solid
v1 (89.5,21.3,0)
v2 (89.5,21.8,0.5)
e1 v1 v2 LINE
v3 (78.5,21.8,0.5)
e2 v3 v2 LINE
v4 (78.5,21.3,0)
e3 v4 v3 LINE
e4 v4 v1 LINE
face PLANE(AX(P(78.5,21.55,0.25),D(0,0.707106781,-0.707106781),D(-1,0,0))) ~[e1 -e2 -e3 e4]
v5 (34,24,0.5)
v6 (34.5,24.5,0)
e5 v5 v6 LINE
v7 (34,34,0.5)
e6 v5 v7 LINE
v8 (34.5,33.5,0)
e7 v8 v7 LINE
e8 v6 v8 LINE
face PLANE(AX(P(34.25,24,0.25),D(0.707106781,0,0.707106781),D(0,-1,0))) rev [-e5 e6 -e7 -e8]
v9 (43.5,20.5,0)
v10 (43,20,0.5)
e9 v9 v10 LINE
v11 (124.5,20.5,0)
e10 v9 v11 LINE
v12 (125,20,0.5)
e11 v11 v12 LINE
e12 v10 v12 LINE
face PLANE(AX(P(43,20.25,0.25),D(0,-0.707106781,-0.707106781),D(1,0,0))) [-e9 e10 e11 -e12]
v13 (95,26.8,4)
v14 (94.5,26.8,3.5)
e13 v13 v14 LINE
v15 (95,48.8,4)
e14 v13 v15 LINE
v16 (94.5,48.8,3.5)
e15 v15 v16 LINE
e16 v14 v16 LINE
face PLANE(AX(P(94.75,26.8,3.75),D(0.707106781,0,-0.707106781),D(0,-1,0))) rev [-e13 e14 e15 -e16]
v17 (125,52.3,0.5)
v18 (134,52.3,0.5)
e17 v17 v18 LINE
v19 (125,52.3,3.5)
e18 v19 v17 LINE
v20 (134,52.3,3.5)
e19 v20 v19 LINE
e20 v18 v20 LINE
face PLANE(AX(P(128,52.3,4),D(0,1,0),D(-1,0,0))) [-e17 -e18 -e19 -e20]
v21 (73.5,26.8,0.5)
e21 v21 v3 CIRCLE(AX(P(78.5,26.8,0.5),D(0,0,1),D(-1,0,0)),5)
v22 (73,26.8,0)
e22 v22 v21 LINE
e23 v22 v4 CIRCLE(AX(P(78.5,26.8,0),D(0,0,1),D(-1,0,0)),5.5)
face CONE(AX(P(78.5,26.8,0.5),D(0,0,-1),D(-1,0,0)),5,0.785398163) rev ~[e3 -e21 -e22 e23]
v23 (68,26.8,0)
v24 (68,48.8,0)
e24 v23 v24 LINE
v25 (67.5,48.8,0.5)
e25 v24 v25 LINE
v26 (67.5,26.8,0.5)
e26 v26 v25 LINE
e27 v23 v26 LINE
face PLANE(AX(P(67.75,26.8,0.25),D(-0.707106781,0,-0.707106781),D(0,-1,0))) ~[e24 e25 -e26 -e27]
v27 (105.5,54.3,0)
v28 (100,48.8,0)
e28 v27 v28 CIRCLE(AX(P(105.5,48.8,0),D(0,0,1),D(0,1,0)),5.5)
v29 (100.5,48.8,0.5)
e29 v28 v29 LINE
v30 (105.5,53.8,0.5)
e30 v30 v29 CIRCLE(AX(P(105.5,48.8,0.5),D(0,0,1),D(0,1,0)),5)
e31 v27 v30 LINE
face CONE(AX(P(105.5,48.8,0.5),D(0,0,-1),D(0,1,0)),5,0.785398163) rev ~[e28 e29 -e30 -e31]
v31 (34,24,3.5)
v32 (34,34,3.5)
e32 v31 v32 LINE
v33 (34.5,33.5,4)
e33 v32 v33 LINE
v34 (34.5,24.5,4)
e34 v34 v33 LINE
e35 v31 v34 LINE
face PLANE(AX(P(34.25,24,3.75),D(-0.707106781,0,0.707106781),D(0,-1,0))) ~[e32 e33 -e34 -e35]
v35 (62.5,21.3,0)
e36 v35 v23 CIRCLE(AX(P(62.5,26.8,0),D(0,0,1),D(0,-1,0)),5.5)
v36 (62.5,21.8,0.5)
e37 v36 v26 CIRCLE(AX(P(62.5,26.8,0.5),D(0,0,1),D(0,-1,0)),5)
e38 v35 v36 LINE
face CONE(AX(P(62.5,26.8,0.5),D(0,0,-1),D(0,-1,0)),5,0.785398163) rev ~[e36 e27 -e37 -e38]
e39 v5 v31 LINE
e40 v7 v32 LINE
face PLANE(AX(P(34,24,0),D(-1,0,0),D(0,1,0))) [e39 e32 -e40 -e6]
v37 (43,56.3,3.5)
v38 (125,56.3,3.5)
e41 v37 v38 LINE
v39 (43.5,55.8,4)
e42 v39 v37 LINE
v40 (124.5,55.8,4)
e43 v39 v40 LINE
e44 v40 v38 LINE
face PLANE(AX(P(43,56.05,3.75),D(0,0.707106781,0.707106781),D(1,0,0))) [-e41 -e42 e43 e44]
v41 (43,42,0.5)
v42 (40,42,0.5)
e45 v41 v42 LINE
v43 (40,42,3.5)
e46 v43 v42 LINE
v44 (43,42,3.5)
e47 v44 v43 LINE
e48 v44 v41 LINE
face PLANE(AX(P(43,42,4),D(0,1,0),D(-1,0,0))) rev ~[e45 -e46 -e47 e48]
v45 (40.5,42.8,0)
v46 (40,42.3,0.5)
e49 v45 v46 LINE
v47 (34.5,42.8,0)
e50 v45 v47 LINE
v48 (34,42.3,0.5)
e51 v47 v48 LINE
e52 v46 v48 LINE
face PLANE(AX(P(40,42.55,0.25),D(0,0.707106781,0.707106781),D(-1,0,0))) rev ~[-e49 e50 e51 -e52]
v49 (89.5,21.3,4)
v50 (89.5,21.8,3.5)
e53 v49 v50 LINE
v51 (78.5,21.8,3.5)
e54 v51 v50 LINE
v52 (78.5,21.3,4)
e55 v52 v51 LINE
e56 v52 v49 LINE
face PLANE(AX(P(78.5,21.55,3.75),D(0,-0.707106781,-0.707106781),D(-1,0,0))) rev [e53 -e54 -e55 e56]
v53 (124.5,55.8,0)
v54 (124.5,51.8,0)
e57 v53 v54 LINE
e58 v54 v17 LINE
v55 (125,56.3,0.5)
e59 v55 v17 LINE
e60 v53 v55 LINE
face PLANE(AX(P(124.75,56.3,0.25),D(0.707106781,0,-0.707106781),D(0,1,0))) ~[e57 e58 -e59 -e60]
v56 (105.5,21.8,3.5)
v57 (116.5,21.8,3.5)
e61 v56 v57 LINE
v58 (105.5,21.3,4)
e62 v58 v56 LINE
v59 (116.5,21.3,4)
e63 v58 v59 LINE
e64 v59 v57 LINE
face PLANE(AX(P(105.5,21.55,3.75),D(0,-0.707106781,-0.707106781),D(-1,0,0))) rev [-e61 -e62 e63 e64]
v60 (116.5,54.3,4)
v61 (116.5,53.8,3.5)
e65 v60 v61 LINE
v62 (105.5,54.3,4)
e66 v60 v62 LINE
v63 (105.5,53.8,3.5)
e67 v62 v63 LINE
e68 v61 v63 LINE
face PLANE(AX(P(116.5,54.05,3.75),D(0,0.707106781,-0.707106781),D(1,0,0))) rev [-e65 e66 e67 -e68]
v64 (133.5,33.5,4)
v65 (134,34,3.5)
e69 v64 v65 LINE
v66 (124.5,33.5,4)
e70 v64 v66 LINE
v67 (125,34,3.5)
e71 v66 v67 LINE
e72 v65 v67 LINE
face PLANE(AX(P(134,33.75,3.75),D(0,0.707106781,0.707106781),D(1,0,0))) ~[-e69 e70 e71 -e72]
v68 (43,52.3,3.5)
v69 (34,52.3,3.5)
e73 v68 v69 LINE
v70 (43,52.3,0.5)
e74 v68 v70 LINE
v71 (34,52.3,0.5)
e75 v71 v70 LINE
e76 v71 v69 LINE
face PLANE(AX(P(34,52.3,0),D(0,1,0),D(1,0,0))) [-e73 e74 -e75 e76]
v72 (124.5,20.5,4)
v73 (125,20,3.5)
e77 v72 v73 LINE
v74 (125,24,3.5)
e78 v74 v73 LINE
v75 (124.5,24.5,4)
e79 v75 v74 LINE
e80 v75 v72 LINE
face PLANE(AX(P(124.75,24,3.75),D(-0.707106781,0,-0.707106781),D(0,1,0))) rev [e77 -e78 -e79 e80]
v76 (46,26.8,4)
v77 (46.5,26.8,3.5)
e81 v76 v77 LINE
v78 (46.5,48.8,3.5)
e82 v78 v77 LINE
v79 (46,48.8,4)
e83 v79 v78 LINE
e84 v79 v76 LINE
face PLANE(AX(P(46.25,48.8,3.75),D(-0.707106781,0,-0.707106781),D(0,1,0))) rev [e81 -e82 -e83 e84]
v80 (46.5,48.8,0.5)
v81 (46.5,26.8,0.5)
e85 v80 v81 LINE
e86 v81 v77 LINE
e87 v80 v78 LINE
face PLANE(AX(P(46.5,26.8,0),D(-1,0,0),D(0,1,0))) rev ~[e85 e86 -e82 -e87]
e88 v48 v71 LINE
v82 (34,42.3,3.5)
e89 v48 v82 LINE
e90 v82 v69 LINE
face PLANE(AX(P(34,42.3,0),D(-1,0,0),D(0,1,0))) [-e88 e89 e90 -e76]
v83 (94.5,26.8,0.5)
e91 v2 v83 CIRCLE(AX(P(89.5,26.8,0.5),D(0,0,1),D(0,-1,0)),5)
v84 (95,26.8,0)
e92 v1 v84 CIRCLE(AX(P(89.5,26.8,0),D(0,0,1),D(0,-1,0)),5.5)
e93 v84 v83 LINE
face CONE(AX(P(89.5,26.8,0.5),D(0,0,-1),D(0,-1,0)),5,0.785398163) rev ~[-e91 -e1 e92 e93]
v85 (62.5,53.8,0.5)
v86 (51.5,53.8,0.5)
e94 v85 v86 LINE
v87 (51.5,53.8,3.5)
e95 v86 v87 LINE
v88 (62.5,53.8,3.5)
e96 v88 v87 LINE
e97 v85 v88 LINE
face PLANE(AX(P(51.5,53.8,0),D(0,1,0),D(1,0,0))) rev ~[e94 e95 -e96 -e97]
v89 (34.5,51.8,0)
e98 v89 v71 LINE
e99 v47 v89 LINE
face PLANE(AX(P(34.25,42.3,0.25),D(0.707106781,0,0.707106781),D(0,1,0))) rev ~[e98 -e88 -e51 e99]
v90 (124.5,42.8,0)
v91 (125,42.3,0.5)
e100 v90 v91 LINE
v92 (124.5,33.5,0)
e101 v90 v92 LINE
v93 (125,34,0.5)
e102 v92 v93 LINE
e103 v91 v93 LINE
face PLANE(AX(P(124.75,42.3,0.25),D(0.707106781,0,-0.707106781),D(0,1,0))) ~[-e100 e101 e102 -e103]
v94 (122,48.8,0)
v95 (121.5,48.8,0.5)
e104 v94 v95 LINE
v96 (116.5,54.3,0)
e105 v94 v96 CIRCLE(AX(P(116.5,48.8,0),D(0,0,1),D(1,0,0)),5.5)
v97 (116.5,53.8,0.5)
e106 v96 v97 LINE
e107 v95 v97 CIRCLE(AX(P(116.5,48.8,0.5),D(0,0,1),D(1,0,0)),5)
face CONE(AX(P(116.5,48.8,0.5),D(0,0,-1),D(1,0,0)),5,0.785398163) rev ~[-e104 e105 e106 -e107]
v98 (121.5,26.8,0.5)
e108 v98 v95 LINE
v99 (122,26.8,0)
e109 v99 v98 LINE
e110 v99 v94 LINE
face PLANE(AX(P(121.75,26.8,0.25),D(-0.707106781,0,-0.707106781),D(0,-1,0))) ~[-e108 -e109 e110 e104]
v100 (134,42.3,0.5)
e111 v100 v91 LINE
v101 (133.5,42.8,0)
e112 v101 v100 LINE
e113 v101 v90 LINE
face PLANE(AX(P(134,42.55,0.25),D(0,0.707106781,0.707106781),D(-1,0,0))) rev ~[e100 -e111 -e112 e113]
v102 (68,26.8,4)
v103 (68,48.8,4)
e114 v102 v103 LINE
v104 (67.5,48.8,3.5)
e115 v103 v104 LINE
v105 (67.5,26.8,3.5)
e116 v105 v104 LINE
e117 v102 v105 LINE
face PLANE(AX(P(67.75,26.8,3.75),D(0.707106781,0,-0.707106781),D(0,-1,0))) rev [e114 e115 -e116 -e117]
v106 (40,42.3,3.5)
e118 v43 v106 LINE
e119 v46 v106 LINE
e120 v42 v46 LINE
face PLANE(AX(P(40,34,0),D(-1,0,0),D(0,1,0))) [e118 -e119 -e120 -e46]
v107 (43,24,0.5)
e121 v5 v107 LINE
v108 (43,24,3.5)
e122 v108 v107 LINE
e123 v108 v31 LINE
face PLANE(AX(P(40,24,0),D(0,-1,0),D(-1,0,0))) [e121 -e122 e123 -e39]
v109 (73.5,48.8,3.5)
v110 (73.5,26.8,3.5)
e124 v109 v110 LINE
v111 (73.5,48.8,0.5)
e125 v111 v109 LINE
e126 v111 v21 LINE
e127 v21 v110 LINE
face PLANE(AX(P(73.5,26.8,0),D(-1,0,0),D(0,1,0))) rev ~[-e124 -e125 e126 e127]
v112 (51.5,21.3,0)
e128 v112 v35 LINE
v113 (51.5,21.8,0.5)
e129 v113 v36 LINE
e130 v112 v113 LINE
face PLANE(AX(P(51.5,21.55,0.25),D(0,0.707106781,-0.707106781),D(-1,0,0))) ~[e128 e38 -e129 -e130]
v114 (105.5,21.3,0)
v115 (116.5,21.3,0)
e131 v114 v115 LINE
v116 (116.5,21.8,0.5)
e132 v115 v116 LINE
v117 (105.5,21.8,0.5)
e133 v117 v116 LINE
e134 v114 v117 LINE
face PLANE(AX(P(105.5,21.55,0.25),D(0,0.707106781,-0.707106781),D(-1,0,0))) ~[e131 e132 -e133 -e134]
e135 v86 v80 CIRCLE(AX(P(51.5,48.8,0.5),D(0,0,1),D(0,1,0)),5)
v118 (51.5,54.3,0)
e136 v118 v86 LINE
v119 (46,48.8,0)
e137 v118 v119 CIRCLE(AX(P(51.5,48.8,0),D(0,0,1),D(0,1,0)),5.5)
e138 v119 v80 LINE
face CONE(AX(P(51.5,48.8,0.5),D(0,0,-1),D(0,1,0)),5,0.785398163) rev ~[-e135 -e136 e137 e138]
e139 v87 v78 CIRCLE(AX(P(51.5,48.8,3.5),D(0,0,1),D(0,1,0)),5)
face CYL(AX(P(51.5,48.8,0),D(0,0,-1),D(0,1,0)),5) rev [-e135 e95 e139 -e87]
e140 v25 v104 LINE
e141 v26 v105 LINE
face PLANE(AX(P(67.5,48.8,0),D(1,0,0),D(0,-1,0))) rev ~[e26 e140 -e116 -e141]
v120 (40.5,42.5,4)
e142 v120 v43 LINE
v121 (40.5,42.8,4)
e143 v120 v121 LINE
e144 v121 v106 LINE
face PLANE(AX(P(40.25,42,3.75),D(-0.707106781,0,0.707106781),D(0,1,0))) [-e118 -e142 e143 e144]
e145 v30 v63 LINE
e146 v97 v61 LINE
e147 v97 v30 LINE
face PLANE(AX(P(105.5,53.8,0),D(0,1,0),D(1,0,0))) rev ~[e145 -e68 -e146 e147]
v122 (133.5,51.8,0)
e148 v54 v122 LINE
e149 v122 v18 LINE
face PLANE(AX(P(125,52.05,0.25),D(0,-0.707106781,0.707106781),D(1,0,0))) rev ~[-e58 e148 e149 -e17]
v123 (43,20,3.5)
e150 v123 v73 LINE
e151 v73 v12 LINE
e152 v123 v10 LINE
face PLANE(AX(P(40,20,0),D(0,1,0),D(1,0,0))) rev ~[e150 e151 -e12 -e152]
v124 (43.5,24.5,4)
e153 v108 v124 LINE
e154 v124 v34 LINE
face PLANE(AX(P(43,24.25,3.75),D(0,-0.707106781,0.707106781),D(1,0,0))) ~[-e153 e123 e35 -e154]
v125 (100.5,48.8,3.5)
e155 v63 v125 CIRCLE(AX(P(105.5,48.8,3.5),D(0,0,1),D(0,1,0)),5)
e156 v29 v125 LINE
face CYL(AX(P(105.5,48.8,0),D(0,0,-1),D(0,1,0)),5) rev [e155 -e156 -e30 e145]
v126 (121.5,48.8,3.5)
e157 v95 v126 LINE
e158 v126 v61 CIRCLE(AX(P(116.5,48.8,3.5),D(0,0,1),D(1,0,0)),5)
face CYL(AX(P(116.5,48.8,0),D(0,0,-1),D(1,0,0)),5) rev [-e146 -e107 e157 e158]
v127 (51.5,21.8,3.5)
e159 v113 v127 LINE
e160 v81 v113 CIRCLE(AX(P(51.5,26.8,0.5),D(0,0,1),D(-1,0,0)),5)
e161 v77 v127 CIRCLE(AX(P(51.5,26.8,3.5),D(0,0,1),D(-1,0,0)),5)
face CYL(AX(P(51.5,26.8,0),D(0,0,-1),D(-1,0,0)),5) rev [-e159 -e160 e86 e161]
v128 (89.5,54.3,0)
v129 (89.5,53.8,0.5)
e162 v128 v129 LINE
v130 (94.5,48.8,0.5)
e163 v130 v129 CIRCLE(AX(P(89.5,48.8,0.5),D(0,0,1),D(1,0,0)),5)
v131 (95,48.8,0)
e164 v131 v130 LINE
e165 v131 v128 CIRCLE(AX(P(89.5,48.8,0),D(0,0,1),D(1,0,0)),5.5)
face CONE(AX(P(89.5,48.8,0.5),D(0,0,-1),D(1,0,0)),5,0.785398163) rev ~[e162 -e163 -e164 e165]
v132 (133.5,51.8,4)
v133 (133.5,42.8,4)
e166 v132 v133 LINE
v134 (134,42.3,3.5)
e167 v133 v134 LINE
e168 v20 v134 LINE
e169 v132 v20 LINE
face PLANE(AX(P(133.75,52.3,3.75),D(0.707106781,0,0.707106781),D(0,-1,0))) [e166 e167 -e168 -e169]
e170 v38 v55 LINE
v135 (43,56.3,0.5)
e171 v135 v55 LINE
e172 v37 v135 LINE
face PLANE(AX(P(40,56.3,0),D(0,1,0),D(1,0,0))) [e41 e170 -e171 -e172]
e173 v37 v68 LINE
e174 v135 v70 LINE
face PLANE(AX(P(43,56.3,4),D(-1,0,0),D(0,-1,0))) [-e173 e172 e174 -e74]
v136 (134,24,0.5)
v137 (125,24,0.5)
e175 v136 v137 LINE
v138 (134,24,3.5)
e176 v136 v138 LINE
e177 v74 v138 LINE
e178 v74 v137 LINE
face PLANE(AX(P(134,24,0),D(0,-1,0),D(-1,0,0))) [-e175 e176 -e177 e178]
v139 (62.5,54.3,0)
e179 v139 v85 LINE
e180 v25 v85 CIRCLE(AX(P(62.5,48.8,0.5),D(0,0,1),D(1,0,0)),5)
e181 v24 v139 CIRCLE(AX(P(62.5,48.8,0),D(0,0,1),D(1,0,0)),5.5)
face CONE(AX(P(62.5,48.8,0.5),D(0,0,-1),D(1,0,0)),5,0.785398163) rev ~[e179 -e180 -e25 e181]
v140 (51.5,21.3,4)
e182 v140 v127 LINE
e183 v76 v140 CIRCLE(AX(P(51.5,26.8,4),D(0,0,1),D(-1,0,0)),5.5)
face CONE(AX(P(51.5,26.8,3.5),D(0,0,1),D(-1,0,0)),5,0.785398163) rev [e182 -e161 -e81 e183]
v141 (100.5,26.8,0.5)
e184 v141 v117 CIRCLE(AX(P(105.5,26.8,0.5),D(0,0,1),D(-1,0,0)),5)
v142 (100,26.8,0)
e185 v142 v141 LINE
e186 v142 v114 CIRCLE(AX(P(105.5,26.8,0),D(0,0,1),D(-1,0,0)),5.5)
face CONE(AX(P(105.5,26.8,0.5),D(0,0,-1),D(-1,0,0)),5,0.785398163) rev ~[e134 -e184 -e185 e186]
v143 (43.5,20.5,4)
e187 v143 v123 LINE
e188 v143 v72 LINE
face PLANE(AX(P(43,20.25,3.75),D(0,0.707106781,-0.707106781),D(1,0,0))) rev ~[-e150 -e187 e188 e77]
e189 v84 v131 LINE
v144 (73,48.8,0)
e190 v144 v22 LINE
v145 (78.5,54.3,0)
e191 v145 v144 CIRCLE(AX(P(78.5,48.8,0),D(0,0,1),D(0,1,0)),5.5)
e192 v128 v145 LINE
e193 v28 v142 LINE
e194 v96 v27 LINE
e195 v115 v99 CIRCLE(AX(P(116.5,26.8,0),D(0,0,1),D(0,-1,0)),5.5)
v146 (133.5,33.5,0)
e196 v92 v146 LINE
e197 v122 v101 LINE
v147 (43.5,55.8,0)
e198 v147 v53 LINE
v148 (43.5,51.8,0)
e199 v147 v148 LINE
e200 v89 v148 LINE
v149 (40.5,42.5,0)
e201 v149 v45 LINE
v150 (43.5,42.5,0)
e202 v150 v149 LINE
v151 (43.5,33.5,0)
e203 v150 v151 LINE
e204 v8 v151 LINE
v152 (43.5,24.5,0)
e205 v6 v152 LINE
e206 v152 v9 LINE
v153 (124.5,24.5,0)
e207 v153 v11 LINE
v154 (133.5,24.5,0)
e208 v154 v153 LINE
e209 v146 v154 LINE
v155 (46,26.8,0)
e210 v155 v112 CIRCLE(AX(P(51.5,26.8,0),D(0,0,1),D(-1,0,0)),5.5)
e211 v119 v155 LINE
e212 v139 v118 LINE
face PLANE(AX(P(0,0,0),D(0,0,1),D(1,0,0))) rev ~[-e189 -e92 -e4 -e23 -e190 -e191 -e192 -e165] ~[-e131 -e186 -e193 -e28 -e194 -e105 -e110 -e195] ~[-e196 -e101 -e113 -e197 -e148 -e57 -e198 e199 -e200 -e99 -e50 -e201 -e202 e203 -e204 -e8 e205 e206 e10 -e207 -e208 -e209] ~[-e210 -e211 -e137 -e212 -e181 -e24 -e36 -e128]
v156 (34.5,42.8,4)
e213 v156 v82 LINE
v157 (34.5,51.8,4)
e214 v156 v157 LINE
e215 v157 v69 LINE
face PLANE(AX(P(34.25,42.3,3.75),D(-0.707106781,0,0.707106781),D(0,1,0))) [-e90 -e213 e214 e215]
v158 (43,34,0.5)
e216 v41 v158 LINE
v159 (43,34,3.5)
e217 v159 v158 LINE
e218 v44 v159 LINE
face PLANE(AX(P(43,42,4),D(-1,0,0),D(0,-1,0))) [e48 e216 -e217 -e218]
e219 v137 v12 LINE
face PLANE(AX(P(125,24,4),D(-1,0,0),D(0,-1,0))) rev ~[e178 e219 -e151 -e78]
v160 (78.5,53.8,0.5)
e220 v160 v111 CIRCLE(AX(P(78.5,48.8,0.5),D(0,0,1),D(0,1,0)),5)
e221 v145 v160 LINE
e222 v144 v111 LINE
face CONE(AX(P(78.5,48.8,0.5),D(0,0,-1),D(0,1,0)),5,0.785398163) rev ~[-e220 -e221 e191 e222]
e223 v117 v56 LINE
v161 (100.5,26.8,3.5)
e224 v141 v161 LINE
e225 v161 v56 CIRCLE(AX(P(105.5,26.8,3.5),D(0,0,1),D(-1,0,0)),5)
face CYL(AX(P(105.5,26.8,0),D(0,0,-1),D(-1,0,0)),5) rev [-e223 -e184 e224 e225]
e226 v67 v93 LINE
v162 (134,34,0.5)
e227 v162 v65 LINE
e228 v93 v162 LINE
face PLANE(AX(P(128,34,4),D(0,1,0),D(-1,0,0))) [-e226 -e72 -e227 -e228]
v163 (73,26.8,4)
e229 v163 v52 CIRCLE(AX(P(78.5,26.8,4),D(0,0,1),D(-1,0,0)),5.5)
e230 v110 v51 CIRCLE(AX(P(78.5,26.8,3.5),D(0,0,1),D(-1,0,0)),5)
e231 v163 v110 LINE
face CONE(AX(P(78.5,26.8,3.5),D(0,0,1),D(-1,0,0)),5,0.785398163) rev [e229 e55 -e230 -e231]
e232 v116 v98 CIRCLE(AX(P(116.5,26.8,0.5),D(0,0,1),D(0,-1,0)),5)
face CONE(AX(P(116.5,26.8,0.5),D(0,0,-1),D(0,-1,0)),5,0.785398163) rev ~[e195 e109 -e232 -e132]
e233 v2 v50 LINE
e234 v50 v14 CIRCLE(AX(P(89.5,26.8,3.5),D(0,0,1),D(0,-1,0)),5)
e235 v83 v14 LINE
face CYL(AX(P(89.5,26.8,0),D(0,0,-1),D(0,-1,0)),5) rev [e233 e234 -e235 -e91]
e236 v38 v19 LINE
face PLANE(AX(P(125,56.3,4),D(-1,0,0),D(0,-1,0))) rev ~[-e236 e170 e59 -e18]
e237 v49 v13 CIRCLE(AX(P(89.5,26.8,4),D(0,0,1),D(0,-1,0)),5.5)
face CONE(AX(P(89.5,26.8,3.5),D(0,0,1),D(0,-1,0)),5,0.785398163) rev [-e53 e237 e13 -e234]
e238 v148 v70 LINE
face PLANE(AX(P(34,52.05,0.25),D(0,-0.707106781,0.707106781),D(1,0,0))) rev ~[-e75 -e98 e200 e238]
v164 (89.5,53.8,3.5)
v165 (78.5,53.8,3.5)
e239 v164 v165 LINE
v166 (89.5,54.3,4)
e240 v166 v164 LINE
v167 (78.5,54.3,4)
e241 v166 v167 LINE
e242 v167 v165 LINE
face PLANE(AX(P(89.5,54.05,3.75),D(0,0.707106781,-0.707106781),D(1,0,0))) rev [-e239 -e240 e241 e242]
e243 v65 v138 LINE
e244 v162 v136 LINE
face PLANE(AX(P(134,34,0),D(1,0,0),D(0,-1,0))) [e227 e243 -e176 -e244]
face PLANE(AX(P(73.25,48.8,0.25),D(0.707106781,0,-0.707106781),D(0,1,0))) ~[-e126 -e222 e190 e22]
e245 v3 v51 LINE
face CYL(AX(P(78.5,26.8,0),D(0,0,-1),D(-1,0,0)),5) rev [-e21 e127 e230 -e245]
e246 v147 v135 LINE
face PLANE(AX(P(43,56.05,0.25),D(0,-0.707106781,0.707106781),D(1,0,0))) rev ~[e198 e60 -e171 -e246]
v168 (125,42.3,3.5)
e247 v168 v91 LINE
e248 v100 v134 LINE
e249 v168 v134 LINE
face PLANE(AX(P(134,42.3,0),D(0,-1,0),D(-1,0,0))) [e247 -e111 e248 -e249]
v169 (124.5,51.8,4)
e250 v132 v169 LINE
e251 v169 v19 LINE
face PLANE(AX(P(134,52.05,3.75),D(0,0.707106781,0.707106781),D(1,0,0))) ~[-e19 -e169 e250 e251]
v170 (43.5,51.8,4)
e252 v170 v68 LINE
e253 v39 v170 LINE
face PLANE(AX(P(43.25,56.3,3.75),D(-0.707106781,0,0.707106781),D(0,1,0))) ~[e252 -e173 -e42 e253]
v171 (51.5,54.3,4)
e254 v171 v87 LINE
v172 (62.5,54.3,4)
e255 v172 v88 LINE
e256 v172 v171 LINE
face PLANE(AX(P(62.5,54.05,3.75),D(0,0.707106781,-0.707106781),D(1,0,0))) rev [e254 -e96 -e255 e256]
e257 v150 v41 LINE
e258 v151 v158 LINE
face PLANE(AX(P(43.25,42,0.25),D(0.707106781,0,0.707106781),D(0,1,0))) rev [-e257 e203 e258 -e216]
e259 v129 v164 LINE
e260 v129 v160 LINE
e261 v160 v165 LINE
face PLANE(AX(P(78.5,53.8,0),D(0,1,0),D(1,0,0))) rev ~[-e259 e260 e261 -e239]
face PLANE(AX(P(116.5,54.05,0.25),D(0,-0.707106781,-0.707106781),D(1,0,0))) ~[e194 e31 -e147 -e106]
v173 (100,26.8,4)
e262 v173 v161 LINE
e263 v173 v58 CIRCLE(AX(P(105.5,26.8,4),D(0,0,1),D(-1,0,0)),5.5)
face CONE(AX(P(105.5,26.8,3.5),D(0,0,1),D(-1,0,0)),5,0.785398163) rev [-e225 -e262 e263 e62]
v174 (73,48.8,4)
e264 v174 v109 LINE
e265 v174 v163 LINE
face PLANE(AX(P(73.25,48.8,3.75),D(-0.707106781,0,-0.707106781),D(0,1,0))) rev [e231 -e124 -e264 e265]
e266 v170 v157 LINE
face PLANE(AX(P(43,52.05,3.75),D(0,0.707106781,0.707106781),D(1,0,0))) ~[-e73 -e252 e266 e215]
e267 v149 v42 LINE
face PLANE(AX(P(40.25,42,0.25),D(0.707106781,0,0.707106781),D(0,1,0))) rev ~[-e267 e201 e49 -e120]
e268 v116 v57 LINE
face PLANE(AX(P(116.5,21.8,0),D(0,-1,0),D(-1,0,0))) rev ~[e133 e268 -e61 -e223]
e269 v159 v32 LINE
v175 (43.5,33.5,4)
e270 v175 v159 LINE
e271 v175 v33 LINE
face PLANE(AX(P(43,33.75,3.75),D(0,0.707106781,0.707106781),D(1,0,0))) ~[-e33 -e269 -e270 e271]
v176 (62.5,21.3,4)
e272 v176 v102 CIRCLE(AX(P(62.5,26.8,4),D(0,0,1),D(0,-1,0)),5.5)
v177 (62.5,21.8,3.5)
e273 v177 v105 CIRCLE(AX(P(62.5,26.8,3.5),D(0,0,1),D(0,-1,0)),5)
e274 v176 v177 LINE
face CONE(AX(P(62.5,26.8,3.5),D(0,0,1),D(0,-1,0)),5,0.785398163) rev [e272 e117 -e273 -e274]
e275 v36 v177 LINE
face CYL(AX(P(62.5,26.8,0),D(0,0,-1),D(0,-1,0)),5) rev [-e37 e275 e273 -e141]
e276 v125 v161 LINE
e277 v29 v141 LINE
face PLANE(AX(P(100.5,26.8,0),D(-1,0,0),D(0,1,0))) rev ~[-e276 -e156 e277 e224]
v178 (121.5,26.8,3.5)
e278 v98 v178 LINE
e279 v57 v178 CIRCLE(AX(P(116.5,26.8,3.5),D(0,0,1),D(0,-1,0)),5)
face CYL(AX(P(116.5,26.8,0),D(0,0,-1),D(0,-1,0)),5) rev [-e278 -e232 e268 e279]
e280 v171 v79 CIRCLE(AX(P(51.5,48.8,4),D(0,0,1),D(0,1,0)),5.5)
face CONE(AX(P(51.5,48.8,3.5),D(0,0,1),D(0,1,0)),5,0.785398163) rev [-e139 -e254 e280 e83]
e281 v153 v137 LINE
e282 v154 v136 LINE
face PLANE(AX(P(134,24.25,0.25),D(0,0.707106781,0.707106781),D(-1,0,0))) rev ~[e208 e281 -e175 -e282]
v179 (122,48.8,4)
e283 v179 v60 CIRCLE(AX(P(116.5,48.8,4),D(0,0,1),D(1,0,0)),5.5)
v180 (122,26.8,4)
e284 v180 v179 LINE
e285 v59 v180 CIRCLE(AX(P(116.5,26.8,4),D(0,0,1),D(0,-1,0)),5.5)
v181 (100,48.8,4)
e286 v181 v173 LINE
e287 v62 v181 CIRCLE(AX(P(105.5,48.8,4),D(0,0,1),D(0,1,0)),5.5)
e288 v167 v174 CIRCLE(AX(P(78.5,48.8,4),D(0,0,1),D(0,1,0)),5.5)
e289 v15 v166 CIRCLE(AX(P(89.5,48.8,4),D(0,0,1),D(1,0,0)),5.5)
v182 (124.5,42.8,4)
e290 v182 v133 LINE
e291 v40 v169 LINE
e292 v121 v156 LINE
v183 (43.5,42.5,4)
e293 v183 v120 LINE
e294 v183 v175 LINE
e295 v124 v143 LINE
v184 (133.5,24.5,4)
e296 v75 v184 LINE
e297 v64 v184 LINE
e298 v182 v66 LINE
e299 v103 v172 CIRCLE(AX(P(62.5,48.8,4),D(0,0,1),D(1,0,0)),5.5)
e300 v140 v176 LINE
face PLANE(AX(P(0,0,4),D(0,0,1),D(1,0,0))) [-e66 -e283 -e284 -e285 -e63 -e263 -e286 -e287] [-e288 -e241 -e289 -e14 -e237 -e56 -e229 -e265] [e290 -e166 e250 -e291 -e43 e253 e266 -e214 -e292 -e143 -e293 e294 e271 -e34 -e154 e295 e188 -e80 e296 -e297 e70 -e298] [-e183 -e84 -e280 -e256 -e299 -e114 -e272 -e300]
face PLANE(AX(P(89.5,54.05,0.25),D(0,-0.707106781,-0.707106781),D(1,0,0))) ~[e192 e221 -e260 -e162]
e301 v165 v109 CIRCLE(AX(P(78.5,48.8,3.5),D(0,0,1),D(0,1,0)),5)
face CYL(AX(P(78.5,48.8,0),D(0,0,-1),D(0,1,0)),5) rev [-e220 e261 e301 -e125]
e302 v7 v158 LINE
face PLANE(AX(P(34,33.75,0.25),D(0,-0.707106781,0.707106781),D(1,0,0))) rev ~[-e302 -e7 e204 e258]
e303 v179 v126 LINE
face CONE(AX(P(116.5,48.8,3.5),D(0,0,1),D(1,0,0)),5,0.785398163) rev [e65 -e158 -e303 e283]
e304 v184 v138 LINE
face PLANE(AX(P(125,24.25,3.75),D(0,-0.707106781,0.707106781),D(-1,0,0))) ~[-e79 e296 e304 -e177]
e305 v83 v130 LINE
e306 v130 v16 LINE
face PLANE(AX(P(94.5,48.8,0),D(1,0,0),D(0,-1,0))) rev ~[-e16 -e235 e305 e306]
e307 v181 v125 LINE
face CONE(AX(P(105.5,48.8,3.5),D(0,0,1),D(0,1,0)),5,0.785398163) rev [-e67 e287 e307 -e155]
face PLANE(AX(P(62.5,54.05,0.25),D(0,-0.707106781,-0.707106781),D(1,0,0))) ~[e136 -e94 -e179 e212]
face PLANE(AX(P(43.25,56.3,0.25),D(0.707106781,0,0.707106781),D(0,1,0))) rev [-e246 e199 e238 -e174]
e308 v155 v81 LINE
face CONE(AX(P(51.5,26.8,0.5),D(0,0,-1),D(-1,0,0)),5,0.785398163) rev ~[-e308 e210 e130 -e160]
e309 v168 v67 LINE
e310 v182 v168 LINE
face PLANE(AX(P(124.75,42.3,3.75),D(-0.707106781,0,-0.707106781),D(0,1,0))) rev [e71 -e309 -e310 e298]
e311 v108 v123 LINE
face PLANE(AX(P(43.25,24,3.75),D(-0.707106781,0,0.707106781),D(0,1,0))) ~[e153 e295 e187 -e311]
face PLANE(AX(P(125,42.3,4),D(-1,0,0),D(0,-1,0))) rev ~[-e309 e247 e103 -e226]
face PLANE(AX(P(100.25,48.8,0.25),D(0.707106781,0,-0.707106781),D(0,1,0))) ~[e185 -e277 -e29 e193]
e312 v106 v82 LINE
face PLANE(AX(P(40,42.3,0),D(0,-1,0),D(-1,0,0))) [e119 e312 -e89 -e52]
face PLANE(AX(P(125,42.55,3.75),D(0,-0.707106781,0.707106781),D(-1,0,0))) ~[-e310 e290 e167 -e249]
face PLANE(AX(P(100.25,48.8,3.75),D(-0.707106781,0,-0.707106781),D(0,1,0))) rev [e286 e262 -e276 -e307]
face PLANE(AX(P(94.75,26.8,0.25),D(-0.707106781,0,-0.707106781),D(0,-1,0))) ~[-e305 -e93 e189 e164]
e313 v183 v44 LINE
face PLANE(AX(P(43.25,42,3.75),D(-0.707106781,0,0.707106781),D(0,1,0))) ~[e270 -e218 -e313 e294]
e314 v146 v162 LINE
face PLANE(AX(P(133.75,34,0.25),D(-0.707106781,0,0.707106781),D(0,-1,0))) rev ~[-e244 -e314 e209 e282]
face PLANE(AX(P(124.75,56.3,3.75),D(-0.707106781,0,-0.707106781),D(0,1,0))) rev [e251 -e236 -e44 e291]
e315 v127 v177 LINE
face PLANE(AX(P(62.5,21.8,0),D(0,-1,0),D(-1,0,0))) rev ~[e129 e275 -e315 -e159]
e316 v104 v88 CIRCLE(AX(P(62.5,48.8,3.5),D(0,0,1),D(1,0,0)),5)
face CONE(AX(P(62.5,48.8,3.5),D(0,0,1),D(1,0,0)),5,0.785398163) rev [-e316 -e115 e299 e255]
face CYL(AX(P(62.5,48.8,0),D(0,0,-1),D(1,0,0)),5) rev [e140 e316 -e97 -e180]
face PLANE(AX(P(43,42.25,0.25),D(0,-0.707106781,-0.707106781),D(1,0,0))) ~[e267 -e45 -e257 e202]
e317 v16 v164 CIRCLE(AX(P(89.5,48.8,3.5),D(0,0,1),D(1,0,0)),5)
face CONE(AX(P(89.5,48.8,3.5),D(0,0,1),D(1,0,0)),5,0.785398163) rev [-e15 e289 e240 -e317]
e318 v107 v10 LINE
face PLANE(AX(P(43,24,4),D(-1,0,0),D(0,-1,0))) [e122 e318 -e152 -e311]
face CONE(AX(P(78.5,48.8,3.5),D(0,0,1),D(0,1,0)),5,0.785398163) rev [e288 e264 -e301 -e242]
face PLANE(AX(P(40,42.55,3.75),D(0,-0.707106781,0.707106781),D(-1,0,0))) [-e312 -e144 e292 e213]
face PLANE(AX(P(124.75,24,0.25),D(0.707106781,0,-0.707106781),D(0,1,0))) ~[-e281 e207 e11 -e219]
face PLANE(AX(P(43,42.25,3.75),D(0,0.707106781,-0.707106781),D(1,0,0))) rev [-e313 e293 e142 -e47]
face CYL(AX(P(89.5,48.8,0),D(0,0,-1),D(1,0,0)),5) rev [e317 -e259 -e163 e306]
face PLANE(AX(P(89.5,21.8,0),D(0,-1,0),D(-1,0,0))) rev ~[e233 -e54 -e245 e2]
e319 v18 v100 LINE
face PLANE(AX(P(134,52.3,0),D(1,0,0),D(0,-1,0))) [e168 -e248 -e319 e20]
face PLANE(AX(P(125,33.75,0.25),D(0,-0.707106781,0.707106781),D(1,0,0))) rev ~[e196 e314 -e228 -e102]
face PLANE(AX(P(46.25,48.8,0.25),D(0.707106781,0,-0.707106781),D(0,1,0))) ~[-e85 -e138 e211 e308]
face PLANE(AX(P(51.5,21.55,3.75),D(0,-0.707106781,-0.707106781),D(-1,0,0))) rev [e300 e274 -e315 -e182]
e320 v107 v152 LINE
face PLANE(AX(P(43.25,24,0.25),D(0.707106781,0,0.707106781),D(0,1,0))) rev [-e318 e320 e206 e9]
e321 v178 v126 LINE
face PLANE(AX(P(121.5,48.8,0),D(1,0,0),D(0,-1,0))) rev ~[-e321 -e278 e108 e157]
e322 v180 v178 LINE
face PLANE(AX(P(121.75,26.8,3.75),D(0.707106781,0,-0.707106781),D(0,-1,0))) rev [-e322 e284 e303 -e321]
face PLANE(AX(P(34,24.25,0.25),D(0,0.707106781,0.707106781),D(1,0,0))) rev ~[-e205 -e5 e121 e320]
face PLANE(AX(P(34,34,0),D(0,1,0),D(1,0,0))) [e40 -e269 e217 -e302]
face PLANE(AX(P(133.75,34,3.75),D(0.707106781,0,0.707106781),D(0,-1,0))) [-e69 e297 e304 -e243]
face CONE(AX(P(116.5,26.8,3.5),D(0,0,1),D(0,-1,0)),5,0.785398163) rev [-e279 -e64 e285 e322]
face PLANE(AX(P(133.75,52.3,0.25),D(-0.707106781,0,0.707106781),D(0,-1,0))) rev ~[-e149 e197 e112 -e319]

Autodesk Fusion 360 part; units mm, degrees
sketch "Sketch1" plane through (0, 0, 0) normal (0, 0, 1) x (1, 0, 0)
  line L0 (40, 20) -> (128, 20)
  line L1 (40, 20) -> (40, 24)
  line L2 (40, 24) -> (34, 24)
  line L3 (34, 24) -> (34, 34)
  line L4 (34, 34) -> (40, 34)
  line L5 (40, 34) -> (40, 42.3)
  line L6 (40, 42.3) -> (34, 42.3)
  line L7 (34, 42.3) -> (34, 52.3)
  line L8 (34, 52.3) -> (40, 52.3)
  line L9 (40, 52.3) -> (40, 56.3)
  line L10 (40, 56.3) -> (128, 56.3)
  line L11 (128, 56.3) -> (128, 52.3)
  line L12 (128, 52.3) -> (134, 52.3)
  line L13 (134, 52.3) -> (134, 42.3)
  line L14 (134, 42.3) -> (128, 42.3)
  line L15 (128, 42.3) -> (128, 34)
  line L16 (128, 34) -> (134, 34)
  line L17 (134, 34) -> (134, 24)
  line L18 (134, 24) -> (128, 24)
  line L19 (128, 24) -> (128, 20)
  line L20 (51.5, 53.8) -> (62.5, 53.8)
  line L21 (67.5, 48.8) -> (67.5, 26.8)
  line L22 (62.5, 21.8) -> (51.5, 21.8)
  line L23 (46.5, 26.8) -> (46.5, 48.8)
  line L24 (78.5, 53.8) -> (89.5, 53.8)
  line L25 (94.5, 48.8) -> (94.5, 26.8)
  line L26 (89.5, 21.8) -> (78.5, 21.8)
  line L27 (73.5, 26.8) -> (73.5, 48.8)
  line L28 (105.5, 53.8) -> (116.5, 53.8)
  line L29 (121.5, 48.8) -> (121.5, 26.8)
  line L30 (116.5, 21.8) -> (105.5, 21.8)
  line L31 (100.5, 26.8) -> (100.5, 48.8)
  arc A0 (51.5, 53.8) -> (46.5, 48.8) centre (51.5, 48.8) ccw
  arc A1 (67.5, 48.8) -> (62.5, 53.8) centre (62.5, 48.8) ccw
  arc A2 (46.5, 26.8) -> (51.5, 21.8) centre (51.5, 26.8) ccw
  arc A3 (62.5, 21.8) -> (67.5, 26.8) centre (62.5, 26.8) ccw
  arc A4 (78.5, 53.8) -> (73.5, 48.8) centre (78.5, 48.8) ccw
  arc A5 (73.5, 26.8) -> (78.5, 21.8) centre (78.5, 26.8) ccw
  arc A6 (89.5, 21.8) -> (94.5, 26.8) centre (89.5, 26.8) ccw
  arc A7 (94.5, 48.8) -> (89.5, 53.8) centre (89.5, 48.8) ccw
  arc A8 (105.5, 53.8) -> (100.5, 48.8) centre (105.5, 48.8) ccw
  arc A9 (121.5, 48.8) -> (116.5, 53.8) centre (116.5, 48.8) ccw
  arc A10 (100.5, 26.8) -> (105.5, 21.8) centre (105.5, 26.8) ccw
  arc A11 (116.5, 21.8) -> (121.5, 26.8) centre (116.5, 26.8) ccw
  point P0 (46.5, 53.8)
  point P1 (67.5, 53.8)
  point P2 (46.5, 21.8)
  point P3 (73.5, 53.8)
  point P4 (94.5, 53.8)
  point P5 (73.5, 21.8)
  point P6 (100.5, 53.8)
  point P7 (121.5, 53.8)
  point P8 (100.5, 21.8)
  dimension "d1" = 88
  dimension "d2" = 4
  dimension "d3" = 6
  dimension "d4" = 10
  dimension "d5" = 6
  dimension "d6" = 8.3
  dimension "d7" = 6
  dimension "d8" = 10
  dimension "d9" = 6
  dimension "d10" = 4
  dimension "d11" = 88
  dimension "d12" = 4
  dimension "d13" = 6
  dimension "d14" = 10
  dimension "d15" = 6
  dimension "d16" = 8.3
  dimension "d17" = 6
  dimension "d18" = 10
  dimension "d21" = 21
  dimension "d22" = 32
  dimension "d23" = 6
  dimension "d24" = 21
  dimension "d25" = 32
  dimension "d26" = 6
  dimension "d27" = 21
  dimension "d28" = 32
  dimension "d29" = 5
extrude "Extrude1" add sketch "Sketch1" along normal blind 4
sketch "Sketch2" plane through (0, 0, 4) normal (0, 0, 1) x (-1, 0, 0)
  arc A0 (-100.5, -26.8) -> (-105.5, -21.8) centre (-105.5, -26.8) ccw
  line L0 (-100.5, -26.8) -> (-100.5, -48.8)
  arc A1 (-105.5, -53.8) -> (-100.5, -48.8) centre (-105.5, -48.8) ccw
  line L1 (-105.5, -53.8) -> (-116.5, -53.8)
  arc A2 (-121.5, -48.8) -> (-116.5, -53.8) centre (-116.5, -48.8) ccw
  line L2 (-121.5, -48.8) -> (-121.5, -26.8)
  arc A3 (-116.5, -21.8) -> (-121.5, -26.8) centre (-116.5, -26.8) ccw
  line L3 (-116.5, -21.8) -> (-105.5, -21.8)
  arc A4 (-89.5, -21.8) -> (-94.5, -26.8) centre (-89.5, -26.8) ccw
  line L4 (-89.5, -21.8) -> (-78.5, -21.8)
  arc A5 (-73.5, -26.8) -> (-78.5, -21.8) centre (-78.5, -26.8) ccw
  line L5 (-73.5, -26.8) -> (-73.5, -48.8)
  arc A6 (-78.5, -53.8) -> (-73.5, -48.8) centre (-78.5, -48.8) ccw
  line L6 (-78.5, -53.8) -> (-89.5, -53.8)
  arc A7 (-94.5, -48.8) -> (-89.5, -53.8) centre (-89.5, -48.8) ccw
  line L7 (-94.5, -48.8) -> (-94.5, -26.8)
  arc A8 (-46.5, -26.8) -> (-51.5, -21.8) centre (-51.5, -26.8) ccw
  line L8 (-46.5, -26.8) -> (-46.5, -48.8)
  arc A9 (-51.5, -53.8) -> (-46.5, -48.8) centre (-51.5, -48.8) ccw
  line L9 (-51.5, -53.8) -> (-62.5, -53.8)
  arc A10 (-67.5, -48.8) -> (-62.5, -53.8) centre (-62.5, -48.8) ccw
  line L10 (-67.5, -48.8) -> (-67.5, -26.8)
  arc A11 (-62.5, -21.8) -> (-67.5, -26.8) centre (-62.5, -26.8) ccw
  line L11 (-62.5, -21.8) -> (-51.5, -21.8)
  line L12 (-40, -20) -> (-128, -20)
  line L13 (-128, -20) -> (-128, -24)
  line L14 (-128, -24) -> (-134, -24)
  line L15 (-134, -24) -> (-134, -34)
  line L16 (-134, -34) -> (-128, -34)
  line L17 (-128, -34) -> (-128, -42.3)
  line L18 (-128, -42.3) -> (-134, -42.3)
  line L19 (-134, -42.3) -> (-134, -52.3)
  line L20 (-134, -52.3) -> (-128, -52.3)
  line L21 (-128, -52.3) -> (-128, -56.3)
  line L22 (-128, -56.3) -> (-40, -56.3)
  line L23 (-40, -56.3) -> (-40, -52.3)
  line L24 (-40, -52.3) -> (-34, -52.3)
  line L25 (-34, -52.3) -> (-34, -42.3)
  line L26 (-34, -42.3) -> (-40, -42.3)
  line L27 (-40, -42.3) -> (-40, -34)
  line L28 (-40, -34) -> (-34, -34)
  line L29 (-34, -34) -> (-34, -24)
  line L30 (-34, -24) -> (-40, -24)
  line L31 (-40, -24) -> (-40, -20)
  line L32 (-40, -56.3) -> (-43, -56.3)
  line L33 (-43, -56.3) -> (-43, -20)
  line L34 (-43, -20) -> (-40, -20)
  line L35 (-40, -20) -> (-40, -56.3)
  line L36 (-128, -56.3) -> (-125, -56.3)
  line L37 (-125, -56.3) -> (-125, -20)
  line L38 (-125, -20) -> (-128, -20)
  line L39 (-128, -20) -> (-128, -56.3)
  line L40 (-128, -52.3) -> (-125, -52.3)
  line L41 (-125, -52.3) -> (-125, -42.3)
  line L42 (-125, -42.3) -> (-128, -42.3)
  line L43 (-128, -42.3) -> (-128, -52.3)
  line L44 (-128, -34) -> (-125, -34)
  line L45 (-125, -34) -> (-125, -24)
  line L46 (-125, -24) -> (-128, -24)
  line L47 (-128, -24) -> (-128, -34)
  line L48 (-40, -52.3) -> (-43, -52.3)
  line L49 (-43, -52.3) -> (-43, -42)
  line L50 (-43, -42) -> (-40, -42)
  line L51 (-40, -42) -> (-40, -52.3)
  line L52 (-40, -34) -> (-43, -34)
  line L53 (-43, -34) -> (-43, -24)
  line L54 (-43, -24) -> (-40, -24)
  line L55 (-40, -24) -> (-40, -34)
  line L56 (-40, -42) -> (-43, -42)
  line L57 (-43, -42) -> (-43, -34)
  line L58 (-43, -34) -> (-40, -34)
  line L59 (-40, -34) -> (-40, -42)
  line L60 (-40, -56.3) -> (-43, -56.3)
  line L61 (-43, -56.3) -> (-43, -52.3)
  line L62 (-43, -52.3) -> (-40, -52.3)
  line L63 (-40, -52.3) -> (-40, -56.3)
  line L64 (-40, -24) -> (-43, -24)
  line L65 (-43, -24) -> (-43, -20)
  line L66 (-43, -20) -> (-40, -20)
  line L67 (-40, -20) -> (-40, -24)
  line L68 (-125, -56.3) -> (-128, -56.3)
  line L69 (-128, -56.3) -> (-128, -52.3)
  line L70 (-128, -52.3) -> (-125, -52.3)
  line L71 (-125, -52.3) -> (-125, -56.3)
  line L72 (-125, -42.3) -> (-128, -42.3)
  line L73 (-128, -42.3) -> (-128, -34)
  line L74 (-128, -34) -> (-125, -34)
  line L75 (-125, -34) -> (-125, -42.3)
  line L76 (-125, -24) -> (-128, -24)
  line L77 (-128, -24) -> (-128, -20)
  line L78 (-128, -20) -> (-125, -20)
  line L79 (-125, -20) -> (-125, -24)
extrude "Extrude2" cut sketch "Sketch2" against normal blind 40 contours L12 L31 L33 L34 L35 L54 L64 L65 L66 L67 | L12 L13 L37 L38 L39 L46 L76 L77 L78 L79 | L27 L33 L35 L50 L52 L56 L57 L58 L59 | L17 L37 L39 L42 L44 L72 L73 L74 L75 | L22 L23 L32 L33 L35 L48 L60 L61 L62 L63 | L21 L22 L36 L37 L39 L40 L68 L69 L70 L71
chamfer "Chamfer1" distance 0.5 angle 45 1 faces at (39, 30.6667, 4)
chamfer "Chamfer2" distance 0.5 angle 45 1 faces at (39, 30.6667, 0)
